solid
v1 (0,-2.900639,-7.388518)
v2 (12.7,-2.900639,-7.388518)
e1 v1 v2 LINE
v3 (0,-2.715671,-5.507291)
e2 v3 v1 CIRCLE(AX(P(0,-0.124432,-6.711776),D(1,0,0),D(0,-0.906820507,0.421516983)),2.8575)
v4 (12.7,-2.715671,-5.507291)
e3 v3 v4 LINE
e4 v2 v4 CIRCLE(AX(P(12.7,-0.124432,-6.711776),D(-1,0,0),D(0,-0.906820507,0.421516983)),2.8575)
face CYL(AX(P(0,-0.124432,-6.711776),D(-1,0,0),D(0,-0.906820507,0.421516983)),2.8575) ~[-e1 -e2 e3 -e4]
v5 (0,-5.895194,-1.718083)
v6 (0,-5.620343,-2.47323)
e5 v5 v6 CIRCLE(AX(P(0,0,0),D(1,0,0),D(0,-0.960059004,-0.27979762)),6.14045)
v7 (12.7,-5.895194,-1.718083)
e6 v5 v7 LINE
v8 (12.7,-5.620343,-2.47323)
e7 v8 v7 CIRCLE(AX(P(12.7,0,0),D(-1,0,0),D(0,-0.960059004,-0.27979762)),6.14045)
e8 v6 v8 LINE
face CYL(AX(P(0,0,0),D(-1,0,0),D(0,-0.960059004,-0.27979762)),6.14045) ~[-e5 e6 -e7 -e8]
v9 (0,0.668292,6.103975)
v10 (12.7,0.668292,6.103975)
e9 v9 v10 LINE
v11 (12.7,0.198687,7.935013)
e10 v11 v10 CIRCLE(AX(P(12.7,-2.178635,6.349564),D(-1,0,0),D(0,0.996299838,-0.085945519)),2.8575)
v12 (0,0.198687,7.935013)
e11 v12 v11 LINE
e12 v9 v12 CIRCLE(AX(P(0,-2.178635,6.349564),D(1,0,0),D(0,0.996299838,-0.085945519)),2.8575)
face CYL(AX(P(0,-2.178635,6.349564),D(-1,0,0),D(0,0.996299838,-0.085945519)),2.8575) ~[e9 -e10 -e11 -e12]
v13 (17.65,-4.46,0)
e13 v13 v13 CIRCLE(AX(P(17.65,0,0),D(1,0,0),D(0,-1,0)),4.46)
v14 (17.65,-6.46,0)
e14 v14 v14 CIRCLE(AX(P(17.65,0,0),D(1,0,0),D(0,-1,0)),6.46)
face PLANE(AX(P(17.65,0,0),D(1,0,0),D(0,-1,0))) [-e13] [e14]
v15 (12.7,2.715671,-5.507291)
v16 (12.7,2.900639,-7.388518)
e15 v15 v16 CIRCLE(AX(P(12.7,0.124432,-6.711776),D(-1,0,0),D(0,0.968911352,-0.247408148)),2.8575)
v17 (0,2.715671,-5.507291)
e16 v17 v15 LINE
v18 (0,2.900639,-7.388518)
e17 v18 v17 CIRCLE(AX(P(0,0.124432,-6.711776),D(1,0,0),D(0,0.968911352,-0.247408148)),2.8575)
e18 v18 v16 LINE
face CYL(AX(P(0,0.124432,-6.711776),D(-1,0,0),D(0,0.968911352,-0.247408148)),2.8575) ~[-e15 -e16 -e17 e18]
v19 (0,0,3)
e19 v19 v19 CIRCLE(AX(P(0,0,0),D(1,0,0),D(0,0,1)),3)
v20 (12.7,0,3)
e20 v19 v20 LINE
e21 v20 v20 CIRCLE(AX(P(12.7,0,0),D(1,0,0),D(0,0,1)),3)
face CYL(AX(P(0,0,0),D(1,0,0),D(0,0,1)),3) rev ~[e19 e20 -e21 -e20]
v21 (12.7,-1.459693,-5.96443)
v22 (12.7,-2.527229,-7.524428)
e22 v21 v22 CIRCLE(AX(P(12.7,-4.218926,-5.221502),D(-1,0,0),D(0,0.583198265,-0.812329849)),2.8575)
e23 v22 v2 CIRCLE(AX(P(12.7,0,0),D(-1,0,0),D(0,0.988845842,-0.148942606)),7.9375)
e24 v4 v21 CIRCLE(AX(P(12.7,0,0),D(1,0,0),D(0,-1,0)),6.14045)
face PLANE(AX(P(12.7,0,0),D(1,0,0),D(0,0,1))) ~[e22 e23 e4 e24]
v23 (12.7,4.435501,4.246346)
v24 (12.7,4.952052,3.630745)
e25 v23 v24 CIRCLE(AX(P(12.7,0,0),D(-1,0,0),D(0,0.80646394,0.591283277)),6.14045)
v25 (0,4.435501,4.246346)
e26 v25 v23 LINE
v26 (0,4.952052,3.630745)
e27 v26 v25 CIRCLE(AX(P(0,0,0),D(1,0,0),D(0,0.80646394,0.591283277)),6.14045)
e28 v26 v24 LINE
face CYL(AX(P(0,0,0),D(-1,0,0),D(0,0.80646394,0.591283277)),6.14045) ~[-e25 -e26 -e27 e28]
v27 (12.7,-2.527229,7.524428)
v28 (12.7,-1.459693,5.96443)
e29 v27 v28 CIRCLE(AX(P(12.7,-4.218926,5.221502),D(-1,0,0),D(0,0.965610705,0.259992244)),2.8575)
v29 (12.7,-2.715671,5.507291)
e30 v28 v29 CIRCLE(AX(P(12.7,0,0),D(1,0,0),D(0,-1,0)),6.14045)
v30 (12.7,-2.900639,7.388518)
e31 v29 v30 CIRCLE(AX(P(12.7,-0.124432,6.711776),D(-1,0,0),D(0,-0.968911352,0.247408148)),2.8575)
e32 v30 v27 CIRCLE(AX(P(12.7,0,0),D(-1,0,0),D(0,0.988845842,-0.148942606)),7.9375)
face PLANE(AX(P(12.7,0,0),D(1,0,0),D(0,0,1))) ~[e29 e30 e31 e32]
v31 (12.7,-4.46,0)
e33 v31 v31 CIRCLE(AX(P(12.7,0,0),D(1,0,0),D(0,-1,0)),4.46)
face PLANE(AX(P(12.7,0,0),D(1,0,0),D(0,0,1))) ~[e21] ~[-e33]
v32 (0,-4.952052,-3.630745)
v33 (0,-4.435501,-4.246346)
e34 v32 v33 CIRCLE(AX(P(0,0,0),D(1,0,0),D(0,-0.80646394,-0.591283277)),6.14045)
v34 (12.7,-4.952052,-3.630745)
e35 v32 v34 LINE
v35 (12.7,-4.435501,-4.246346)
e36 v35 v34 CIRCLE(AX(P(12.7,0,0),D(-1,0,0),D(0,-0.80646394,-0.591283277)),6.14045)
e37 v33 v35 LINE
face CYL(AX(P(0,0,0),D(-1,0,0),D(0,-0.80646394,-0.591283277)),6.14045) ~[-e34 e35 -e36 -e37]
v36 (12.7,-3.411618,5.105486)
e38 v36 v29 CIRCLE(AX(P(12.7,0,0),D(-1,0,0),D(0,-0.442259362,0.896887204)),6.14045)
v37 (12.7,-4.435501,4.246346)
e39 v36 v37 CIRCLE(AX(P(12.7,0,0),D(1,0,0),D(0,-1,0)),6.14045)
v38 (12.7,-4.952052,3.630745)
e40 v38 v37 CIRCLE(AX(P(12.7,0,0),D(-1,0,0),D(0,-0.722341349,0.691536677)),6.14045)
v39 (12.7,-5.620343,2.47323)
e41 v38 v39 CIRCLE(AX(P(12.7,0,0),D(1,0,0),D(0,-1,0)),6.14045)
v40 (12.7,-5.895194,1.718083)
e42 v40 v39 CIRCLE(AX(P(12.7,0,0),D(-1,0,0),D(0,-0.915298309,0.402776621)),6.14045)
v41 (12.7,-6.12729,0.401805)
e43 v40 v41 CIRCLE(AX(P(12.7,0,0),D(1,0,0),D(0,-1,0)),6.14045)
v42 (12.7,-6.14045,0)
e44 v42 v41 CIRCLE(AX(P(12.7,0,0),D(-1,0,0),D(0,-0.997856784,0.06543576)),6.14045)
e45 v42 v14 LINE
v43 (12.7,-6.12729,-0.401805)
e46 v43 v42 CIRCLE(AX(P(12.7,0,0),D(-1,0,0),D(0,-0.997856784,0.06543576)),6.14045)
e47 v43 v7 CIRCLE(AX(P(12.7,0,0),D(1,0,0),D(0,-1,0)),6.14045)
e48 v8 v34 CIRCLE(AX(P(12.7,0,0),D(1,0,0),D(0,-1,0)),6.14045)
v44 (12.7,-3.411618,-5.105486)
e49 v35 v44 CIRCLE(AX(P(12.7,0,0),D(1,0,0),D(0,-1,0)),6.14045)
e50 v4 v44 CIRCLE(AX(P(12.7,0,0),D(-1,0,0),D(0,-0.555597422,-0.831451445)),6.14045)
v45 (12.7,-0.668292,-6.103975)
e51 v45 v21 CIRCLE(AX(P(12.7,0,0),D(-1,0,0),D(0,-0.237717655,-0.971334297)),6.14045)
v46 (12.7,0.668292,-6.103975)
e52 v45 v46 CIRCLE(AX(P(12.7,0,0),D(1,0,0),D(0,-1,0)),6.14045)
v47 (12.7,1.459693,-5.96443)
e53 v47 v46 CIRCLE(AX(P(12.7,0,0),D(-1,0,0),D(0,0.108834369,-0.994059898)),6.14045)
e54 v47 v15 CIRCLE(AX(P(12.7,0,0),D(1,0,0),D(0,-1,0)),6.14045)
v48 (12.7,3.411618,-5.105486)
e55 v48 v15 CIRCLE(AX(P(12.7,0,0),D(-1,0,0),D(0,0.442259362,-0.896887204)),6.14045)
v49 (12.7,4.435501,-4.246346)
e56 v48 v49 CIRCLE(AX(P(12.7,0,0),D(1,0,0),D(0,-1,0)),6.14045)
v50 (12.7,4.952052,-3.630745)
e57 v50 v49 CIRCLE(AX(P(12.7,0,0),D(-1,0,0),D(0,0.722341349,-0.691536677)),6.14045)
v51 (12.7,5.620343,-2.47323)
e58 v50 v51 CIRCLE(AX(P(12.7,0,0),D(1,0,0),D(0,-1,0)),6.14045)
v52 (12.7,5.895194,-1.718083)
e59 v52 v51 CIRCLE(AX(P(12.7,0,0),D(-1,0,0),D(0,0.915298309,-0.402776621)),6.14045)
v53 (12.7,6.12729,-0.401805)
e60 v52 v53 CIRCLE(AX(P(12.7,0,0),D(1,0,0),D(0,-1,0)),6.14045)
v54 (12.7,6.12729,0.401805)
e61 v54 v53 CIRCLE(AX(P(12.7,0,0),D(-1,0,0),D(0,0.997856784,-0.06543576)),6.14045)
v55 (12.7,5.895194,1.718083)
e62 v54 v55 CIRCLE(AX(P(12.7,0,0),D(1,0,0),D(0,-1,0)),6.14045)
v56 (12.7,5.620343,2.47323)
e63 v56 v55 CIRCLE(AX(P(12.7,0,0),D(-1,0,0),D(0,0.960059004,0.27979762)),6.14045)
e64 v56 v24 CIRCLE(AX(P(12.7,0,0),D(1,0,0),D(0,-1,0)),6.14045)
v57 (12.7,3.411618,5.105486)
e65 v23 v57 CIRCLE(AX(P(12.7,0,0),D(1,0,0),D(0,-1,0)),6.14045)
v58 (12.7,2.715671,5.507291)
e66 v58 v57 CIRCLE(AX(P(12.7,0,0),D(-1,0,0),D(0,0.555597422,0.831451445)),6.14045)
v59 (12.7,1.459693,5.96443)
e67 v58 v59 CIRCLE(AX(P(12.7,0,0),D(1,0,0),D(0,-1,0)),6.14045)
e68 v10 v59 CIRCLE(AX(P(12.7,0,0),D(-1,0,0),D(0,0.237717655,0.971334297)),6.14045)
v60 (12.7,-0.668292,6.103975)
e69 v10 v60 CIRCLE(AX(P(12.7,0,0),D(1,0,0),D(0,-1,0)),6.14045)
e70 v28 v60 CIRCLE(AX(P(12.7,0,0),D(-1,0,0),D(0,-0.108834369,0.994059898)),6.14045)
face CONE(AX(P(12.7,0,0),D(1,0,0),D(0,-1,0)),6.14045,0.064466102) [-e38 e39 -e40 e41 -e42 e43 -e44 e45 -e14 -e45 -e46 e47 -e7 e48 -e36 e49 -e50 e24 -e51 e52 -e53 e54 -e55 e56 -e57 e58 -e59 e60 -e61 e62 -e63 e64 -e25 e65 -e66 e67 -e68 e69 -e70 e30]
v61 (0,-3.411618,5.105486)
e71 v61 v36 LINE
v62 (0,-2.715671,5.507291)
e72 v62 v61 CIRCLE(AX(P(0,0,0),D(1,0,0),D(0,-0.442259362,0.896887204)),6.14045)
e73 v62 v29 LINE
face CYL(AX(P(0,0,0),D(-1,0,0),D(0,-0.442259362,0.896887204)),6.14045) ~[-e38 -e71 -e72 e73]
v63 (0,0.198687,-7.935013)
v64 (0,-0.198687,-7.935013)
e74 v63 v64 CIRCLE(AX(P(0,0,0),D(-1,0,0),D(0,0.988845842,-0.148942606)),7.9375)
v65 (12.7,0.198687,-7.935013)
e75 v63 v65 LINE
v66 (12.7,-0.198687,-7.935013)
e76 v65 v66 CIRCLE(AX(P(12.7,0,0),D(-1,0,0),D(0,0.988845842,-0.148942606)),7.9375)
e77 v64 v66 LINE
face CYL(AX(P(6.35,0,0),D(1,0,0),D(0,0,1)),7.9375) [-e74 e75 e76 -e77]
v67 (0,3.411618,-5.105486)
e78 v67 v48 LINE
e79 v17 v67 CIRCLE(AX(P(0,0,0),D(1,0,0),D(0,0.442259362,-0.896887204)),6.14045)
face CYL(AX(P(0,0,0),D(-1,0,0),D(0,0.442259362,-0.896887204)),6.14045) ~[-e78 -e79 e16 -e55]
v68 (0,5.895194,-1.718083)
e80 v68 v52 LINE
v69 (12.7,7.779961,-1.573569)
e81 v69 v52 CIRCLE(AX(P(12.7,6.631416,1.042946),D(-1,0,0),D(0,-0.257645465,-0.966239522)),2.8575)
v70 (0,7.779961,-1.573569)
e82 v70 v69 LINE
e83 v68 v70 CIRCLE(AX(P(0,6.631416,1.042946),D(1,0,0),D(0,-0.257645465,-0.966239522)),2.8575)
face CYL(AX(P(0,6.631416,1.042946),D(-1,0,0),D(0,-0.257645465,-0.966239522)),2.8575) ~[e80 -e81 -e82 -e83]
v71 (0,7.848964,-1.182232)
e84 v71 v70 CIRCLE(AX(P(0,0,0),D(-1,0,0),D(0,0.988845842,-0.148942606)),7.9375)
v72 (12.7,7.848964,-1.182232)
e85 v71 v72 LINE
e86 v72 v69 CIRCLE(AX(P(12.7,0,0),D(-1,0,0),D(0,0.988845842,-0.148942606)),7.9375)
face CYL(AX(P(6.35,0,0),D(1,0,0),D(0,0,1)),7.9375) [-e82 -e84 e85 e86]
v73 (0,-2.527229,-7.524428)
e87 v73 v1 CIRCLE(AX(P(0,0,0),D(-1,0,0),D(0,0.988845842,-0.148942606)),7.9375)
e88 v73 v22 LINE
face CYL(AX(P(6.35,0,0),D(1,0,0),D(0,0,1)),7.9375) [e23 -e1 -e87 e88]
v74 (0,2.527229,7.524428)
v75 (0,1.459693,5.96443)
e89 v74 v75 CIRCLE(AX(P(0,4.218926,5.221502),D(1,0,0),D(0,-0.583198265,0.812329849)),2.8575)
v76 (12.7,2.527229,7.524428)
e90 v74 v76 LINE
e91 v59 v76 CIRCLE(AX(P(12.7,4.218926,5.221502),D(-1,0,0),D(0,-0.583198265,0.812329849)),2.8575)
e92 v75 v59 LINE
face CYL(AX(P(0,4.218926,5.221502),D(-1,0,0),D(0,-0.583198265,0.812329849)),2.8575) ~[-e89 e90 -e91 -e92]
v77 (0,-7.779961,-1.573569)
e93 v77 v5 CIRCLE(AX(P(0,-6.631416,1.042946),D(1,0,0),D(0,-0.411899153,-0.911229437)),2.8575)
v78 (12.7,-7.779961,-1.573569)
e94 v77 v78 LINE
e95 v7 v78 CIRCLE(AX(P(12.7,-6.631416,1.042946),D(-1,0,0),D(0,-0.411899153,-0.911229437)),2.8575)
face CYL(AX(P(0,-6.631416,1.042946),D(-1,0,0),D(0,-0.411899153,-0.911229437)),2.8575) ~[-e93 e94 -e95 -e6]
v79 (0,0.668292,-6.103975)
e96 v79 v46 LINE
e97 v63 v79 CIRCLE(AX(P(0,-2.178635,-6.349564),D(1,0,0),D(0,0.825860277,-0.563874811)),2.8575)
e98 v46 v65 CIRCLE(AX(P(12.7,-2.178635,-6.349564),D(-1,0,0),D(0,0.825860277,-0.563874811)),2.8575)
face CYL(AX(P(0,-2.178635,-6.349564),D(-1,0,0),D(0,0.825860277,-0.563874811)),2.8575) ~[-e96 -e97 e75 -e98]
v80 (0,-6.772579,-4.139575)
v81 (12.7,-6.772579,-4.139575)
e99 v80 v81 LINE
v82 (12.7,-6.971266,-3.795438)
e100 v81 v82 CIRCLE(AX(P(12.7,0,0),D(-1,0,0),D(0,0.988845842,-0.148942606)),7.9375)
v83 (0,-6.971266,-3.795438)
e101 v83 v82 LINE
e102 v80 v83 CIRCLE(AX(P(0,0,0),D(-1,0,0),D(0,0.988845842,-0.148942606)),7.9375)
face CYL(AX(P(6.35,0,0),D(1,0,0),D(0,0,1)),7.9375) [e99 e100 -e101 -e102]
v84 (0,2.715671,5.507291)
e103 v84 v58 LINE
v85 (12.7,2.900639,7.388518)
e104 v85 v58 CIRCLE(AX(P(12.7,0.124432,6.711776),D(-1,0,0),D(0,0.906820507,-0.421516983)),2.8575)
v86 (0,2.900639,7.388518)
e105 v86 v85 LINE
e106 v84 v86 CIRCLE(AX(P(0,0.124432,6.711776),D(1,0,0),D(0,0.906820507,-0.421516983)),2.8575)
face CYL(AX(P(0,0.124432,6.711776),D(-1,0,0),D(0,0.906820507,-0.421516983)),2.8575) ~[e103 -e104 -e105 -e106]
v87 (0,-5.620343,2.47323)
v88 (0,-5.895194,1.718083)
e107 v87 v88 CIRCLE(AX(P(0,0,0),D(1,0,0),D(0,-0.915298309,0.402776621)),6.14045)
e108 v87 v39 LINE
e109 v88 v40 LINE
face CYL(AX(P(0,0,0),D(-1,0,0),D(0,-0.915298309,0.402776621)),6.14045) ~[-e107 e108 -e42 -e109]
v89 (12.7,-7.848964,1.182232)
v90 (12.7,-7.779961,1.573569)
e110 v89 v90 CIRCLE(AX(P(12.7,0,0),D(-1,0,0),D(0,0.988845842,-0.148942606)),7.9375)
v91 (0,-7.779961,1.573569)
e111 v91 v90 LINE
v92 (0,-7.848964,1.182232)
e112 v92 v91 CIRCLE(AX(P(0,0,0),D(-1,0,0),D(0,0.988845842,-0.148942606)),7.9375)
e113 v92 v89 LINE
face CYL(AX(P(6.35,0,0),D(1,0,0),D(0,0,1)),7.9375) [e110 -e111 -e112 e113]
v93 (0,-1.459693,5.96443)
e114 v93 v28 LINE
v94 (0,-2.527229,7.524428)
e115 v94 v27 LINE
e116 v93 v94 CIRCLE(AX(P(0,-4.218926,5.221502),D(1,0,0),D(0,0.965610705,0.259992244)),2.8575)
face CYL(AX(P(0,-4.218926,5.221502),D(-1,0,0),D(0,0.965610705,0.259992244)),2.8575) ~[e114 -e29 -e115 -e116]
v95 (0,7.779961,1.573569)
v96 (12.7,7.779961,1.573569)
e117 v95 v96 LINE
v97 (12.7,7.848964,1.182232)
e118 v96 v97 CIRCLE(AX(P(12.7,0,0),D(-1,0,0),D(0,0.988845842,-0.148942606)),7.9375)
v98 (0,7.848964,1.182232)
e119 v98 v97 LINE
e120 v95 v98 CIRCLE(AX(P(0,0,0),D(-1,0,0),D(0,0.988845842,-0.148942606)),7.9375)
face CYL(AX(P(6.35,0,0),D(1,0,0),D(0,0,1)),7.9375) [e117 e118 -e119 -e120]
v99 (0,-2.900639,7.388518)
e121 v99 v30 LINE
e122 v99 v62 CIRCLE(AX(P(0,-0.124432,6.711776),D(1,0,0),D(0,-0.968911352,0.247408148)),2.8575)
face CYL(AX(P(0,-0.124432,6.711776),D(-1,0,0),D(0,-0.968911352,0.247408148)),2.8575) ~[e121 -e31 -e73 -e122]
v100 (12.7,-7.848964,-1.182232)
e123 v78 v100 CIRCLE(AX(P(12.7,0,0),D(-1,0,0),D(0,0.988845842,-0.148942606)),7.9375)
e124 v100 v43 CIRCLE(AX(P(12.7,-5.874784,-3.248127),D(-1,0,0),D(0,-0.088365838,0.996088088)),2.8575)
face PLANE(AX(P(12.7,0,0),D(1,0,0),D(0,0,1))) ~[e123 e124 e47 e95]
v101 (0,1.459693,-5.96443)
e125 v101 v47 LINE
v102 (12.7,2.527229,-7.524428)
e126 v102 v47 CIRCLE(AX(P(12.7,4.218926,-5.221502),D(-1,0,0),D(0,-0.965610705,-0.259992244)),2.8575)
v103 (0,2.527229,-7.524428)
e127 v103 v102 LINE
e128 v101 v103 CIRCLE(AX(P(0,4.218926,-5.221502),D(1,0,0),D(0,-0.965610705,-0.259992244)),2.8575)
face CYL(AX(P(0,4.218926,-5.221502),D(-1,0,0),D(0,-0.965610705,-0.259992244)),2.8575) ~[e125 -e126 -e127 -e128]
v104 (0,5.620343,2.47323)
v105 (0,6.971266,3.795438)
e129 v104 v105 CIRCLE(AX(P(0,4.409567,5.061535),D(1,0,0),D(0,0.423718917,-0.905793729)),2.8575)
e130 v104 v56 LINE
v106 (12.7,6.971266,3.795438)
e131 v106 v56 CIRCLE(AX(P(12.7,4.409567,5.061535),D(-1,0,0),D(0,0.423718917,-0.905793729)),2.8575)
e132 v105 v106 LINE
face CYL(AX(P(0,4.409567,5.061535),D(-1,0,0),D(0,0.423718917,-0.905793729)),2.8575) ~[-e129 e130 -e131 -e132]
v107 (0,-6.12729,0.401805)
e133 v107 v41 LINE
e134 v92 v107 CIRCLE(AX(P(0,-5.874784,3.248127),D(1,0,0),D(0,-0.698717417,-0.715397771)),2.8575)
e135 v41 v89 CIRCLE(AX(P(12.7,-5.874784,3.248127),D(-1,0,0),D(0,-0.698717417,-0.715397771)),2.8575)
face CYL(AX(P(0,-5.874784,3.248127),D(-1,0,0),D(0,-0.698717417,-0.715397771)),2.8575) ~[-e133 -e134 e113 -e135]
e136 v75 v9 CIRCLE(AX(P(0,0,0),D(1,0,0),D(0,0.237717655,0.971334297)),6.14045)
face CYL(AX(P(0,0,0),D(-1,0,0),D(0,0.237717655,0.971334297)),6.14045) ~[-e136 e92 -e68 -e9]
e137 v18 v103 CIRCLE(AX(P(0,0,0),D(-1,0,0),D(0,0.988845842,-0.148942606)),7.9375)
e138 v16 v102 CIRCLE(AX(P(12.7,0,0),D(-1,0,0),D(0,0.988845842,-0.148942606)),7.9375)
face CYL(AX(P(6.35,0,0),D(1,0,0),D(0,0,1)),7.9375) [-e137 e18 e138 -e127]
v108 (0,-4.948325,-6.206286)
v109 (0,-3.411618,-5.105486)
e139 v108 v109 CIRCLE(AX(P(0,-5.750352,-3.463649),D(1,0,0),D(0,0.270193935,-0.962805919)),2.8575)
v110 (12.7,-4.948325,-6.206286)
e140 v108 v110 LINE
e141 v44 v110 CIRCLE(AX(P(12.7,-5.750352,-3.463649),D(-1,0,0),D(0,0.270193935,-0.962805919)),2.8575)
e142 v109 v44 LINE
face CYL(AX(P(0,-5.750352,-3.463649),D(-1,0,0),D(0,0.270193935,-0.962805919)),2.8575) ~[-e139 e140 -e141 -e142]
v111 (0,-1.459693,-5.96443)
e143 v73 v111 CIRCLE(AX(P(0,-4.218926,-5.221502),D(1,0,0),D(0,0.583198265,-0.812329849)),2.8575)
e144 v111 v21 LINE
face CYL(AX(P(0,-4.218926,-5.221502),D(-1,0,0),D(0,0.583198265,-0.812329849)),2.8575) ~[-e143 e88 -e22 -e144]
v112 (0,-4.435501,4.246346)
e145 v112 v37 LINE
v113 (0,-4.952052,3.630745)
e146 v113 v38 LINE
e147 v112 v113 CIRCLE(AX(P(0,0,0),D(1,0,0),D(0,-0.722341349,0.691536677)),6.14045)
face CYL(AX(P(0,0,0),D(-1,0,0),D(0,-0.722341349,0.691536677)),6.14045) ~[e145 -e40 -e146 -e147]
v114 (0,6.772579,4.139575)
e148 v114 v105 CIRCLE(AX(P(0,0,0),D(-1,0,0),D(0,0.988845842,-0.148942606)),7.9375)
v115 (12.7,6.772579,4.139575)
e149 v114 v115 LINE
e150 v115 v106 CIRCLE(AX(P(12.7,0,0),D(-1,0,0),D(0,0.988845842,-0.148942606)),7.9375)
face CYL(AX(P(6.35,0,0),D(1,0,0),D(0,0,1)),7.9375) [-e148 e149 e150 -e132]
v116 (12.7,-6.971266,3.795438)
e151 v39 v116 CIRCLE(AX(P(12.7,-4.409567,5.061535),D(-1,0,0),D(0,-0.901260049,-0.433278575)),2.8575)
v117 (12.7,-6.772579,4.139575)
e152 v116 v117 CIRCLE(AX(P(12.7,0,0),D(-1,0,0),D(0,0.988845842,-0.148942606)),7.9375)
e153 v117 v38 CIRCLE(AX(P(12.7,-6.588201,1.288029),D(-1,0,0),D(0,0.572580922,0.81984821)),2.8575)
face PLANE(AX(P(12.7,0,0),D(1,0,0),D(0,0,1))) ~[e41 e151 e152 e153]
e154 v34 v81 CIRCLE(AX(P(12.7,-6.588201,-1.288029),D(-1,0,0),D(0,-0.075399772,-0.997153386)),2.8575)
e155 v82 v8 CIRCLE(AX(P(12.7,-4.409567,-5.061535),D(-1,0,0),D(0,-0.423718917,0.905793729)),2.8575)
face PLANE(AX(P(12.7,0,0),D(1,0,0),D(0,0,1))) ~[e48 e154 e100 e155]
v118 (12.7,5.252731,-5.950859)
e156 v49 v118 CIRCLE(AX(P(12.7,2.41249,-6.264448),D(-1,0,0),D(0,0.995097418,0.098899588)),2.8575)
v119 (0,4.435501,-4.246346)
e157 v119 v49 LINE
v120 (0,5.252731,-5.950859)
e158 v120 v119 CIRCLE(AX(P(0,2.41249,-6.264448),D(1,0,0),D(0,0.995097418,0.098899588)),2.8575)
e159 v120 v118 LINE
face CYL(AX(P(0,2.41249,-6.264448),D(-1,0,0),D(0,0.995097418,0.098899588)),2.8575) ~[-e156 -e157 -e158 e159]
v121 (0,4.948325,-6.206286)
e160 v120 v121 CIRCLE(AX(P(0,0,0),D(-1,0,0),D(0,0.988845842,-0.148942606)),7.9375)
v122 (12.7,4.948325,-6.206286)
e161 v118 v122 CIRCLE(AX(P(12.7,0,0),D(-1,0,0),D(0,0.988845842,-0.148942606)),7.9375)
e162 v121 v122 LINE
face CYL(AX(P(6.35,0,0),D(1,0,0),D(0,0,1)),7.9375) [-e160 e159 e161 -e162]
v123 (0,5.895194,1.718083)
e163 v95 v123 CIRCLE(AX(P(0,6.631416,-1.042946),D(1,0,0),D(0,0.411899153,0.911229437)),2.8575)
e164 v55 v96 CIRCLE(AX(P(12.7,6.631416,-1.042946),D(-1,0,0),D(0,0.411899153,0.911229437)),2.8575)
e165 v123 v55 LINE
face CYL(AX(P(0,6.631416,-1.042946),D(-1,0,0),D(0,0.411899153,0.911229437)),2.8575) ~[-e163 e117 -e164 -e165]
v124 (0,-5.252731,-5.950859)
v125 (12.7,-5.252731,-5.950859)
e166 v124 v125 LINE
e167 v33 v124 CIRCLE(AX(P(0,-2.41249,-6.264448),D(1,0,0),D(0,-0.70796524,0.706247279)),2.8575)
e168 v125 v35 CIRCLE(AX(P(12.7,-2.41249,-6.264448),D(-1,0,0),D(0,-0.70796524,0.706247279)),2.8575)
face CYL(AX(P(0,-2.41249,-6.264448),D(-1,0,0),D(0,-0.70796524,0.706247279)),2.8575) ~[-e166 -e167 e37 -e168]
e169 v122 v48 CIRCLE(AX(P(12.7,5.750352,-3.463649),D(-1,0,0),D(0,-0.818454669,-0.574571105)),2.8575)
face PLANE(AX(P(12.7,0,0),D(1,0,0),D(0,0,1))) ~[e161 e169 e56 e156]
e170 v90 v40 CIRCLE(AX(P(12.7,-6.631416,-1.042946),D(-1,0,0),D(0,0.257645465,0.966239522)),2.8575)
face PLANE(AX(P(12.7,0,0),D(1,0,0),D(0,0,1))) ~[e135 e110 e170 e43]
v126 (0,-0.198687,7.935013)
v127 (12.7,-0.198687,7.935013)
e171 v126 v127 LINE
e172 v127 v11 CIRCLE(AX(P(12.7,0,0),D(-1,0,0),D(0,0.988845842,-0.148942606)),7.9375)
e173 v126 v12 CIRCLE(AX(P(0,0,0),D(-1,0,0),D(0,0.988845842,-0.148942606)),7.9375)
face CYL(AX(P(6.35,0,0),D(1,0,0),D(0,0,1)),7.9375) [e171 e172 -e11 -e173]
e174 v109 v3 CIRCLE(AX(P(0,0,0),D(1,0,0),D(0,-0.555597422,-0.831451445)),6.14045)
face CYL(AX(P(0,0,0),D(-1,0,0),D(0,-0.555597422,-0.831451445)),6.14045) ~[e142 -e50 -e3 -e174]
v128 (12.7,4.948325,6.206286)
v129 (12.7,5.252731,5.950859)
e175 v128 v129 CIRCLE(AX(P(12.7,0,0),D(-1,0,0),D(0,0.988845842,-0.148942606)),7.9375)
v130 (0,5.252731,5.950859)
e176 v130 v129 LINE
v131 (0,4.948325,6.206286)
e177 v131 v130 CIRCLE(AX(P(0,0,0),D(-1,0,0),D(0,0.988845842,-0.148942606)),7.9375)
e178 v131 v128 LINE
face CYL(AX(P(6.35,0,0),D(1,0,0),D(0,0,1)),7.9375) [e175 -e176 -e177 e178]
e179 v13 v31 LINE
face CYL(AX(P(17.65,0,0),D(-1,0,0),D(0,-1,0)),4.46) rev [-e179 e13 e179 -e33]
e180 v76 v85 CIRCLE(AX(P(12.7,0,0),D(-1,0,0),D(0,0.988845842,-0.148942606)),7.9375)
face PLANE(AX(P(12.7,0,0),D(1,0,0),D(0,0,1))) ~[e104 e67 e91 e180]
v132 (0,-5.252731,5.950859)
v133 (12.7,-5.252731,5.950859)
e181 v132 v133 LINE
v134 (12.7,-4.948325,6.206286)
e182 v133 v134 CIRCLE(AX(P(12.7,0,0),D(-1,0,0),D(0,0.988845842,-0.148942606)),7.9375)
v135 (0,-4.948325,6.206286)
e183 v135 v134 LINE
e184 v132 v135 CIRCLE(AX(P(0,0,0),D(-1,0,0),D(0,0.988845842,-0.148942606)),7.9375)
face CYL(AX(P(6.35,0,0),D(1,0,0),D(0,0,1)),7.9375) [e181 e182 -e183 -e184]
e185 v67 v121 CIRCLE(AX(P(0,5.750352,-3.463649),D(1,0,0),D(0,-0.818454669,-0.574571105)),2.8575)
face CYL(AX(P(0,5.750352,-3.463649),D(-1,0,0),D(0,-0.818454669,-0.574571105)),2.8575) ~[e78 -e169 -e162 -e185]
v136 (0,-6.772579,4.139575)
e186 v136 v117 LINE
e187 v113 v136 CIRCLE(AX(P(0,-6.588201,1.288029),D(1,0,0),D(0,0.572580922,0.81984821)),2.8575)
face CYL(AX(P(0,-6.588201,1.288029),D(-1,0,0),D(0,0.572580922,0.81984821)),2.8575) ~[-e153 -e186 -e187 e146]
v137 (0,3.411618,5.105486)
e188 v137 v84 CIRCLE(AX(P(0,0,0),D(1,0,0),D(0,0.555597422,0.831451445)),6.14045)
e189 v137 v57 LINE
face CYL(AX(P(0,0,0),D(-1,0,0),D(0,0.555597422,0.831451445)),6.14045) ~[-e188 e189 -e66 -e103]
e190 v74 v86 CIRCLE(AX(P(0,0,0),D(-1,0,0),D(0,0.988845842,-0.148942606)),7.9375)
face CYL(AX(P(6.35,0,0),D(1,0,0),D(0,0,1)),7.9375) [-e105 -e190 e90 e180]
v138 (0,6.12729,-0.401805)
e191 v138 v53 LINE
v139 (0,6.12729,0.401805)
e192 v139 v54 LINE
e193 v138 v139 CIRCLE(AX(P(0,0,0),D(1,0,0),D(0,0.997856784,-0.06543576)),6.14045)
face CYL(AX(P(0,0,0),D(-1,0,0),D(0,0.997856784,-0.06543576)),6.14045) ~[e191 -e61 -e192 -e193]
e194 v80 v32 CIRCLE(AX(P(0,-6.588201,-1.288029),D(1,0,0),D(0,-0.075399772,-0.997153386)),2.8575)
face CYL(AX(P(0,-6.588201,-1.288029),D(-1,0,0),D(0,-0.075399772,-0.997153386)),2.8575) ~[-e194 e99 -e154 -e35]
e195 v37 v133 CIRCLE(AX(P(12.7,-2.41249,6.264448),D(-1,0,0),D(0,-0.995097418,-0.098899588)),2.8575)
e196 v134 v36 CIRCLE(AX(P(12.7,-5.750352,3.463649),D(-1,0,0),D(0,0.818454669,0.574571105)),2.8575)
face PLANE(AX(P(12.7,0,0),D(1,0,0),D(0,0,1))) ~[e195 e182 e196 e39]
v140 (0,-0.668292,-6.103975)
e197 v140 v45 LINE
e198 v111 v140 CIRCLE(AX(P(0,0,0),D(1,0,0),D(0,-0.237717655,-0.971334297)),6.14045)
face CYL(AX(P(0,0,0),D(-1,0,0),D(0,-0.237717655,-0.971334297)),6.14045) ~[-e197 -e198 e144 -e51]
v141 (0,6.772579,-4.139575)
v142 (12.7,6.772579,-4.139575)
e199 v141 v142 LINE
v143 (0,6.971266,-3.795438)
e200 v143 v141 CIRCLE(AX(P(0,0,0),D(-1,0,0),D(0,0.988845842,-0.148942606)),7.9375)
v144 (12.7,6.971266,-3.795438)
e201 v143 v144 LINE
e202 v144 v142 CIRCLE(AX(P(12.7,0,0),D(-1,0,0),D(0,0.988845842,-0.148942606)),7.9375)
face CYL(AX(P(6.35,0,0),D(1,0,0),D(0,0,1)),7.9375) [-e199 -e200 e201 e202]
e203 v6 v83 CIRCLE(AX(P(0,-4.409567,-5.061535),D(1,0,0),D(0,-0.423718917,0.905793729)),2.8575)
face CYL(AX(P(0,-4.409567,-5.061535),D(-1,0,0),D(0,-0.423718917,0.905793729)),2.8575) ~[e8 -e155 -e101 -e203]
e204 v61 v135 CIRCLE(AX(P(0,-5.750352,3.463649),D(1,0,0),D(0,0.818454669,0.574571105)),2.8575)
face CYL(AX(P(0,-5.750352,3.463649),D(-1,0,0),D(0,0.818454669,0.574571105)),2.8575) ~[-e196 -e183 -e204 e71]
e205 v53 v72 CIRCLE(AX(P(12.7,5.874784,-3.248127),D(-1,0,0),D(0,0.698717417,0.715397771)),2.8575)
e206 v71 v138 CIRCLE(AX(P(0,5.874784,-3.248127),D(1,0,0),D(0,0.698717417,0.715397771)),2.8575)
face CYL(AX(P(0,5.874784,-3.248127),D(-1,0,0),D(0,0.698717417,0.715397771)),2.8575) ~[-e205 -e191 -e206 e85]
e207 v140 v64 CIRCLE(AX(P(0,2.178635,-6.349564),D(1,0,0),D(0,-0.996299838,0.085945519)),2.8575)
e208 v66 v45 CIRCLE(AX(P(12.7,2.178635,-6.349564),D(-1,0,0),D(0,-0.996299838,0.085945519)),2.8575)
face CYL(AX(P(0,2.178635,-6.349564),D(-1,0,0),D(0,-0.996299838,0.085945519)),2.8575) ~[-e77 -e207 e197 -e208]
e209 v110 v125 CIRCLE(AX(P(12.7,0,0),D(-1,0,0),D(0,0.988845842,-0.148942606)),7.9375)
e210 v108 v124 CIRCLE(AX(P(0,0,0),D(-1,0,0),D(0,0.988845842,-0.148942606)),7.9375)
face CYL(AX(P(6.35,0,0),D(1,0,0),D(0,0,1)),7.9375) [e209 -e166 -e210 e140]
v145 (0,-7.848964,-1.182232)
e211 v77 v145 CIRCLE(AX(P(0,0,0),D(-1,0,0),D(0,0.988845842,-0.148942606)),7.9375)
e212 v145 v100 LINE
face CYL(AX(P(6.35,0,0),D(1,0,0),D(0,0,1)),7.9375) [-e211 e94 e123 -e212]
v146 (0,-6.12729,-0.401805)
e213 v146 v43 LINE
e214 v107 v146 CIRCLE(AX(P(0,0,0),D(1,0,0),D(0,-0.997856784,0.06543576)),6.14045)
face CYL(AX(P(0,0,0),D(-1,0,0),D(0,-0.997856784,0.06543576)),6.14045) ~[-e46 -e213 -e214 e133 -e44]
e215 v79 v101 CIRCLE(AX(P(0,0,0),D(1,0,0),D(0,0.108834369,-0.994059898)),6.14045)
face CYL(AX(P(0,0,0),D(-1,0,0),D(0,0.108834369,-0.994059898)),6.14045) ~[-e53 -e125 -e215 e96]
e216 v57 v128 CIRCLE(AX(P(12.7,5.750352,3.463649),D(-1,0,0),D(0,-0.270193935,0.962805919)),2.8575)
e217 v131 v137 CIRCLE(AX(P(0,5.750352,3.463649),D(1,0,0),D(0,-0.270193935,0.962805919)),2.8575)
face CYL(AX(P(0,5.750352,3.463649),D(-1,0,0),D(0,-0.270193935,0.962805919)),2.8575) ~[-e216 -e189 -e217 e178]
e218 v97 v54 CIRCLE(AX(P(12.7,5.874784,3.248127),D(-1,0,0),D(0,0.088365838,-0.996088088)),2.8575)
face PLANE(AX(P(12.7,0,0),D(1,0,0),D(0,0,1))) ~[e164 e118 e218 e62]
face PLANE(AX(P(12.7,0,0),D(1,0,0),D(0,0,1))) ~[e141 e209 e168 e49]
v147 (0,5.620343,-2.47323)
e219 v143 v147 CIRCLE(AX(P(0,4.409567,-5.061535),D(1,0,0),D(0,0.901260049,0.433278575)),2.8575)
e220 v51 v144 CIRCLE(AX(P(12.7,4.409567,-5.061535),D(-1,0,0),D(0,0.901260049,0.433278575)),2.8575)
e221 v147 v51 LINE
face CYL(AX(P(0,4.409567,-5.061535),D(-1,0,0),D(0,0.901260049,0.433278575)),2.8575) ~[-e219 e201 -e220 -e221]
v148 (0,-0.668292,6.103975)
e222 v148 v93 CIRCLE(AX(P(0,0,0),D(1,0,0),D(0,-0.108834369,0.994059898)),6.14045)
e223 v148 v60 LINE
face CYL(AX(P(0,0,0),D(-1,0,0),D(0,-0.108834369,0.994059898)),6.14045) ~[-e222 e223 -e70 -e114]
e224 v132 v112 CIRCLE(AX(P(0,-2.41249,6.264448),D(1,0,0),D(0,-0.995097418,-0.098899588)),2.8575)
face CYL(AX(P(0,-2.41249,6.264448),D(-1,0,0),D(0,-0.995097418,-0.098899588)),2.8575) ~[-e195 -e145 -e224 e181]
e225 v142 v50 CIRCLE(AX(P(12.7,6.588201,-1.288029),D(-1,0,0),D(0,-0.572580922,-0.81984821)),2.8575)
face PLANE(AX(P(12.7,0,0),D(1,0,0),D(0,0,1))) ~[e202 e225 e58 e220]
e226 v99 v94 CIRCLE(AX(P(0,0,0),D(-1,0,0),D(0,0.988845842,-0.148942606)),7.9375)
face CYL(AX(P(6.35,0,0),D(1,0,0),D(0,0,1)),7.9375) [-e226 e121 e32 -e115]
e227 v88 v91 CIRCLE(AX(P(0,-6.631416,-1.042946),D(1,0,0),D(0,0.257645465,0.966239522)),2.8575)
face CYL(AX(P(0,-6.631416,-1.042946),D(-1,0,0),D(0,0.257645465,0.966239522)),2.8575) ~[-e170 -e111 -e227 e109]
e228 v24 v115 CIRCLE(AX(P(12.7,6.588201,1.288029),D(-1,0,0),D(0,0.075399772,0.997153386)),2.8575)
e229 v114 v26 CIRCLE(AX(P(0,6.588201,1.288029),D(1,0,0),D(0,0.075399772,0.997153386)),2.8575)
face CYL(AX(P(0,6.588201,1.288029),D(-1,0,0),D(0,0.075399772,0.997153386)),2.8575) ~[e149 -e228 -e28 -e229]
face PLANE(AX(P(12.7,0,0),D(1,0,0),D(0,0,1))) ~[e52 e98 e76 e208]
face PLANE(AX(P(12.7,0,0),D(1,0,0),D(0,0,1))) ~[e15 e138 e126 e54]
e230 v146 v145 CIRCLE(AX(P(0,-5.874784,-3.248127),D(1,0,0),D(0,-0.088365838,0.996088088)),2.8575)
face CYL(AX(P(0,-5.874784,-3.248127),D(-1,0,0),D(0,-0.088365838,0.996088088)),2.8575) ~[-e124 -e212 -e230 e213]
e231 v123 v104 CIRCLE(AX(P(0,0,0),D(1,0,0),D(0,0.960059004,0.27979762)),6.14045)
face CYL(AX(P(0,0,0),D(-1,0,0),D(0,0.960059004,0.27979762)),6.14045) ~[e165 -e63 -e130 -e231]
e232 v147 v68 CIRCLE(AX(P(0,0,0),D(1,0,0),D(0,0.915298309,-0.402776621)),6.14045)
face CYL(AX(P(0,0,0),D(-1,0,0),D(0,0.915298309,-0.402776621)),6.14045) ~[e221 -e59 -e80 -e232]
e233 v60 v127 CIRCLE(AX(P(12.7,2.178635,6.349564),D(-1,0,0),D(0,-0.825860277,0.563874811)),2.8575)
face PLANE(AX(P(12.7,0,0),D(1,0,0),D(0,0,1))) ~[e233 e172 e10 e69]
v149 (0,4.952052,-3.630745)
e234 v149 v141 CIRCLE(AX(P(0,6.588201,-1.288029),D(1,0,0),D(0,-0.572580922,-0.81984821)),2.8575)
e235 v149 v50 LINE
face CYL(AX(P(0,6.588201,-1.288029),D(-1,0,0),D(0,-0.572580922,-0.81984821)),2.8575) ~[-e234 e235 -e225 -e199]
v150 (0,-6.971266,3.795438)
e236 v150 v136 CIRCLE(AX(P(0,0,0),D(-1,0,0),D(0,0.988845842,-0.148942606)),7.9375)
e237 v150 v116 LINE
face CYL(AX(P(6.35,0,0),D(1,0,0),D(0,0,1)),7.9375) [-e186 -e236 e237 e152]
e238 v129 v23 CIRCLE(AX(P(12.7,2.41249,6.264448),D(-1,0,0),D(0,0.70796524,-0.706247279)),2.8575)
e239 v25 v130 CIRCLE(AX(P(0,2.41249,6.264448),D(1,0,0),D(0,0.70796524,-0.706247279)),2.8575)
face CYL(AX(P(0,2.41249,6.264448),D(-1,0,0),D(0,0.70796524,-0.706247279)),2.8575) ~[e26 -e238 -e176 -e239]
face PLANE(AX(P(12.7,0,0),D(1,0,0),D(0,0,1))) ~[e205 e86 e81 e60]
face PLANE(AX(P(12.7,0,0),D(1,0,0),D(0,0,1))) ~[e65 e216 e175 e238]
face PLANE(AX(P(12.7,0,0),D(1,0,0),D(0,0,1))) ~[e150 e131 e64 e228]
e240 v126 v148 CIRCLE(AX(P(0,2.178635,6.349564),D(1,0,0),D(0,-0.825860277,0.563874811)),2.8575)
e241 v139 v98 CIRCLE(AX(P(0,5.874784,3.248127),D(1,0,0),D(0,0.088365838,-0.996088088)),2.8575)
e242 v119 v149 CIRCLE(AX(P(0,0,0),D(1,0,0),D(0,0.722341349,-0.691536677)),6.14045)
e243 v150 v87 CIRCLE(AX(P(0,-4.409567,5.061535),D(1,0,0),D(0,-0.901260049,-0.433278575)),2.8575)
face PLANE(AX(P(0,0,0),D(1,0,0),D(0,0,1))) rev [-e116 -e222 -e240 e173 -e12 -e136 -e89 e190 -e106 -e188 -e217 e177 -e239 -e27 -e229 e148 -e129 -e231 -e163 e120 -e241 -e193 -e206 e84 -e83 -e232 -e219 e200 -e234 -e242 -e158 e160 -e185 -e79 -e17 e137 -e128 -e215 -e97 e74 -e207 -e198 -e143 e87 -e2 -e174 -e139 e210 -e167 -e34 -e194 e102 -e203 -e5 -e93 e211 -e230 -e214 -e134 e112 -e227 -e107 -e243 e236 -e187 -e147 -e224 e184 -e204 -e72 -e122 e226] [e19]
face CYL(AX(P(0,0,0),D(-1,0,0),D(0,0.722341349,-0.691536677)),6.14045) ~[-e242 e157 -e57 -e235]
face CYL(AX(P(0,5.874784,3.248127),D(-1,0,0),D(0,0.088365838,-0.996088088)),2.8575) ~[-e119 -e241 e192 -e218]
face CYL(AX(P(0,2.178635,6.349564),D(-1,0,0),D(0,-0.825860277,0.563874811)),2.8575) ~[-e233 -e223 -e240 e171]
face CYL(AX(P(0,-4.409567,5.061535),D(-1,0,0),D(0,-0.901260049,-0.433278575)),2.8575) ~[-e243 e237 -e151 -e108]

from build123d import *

# Parameters (mm, degrees)
BASPROSKE_W     = 12.7
BASPROSKE_H     = 7.9375
TOOTHCUT_DEPTH  = 17.949861725
TEETHCUTS_COUNT = 18
TEETHCUTS_ANGLE = 340
BORSKE_R        = 3
BORE_DEPTH      = 50.8000508


with BuildPart() as part:
    # BasProSke → Base-Revolve (revolve)
    with BuildSketch(Plane(origin=(0, 0, 0), x_dir=(1, 0, 0), z_dir=(0, 1, 0)), mode=Mode.PRIVATE) as base_revolve_sk:
        with Locations((6.35, 3.96875)):
            Rectangle(BASPROSKE_W, BASPROSKE_H)
    revolve(base_revolve_sk.sketch.rotate(Axis((-10, 0, 0), (1, 0, 0)), 180), axis=Axis((-10, 0, 0), (1, 0, 0)))

    # TooCutSke → ToothCut (cut, through all)
    with BuildSketch(Plane(origin=(0, 0, 0), x_dir=(0, 0, -1), z_dir=(1, 0, 0))):
        with BuildLine():
            ThreePointArc((0.401805019, 6.127289689), (0, 6.14045), (-0.401805019, 6.127289689))
            ThreePointArc((-0.401805019, 6.127289689), (-0.651999955, 7.068698885), (-1.203877601, 7.87136933))
            ThreePointArc((-1.203877601, 7.87136933), (0, 7.9629), (1.203877601, 7.87136933))
            ThreePointArc((1.203877601, 7.87136933), (0.651999955, 7.068698885), (0.401805019, 6.127289689))
        make_face()
    toothcut = extrude(amount=TOOTHCUT_DEPTH, mode=Mode.SUBTRACT)

    # TeethCuts: ToothCut ×18 about axis
    teethcuts_axis = Axis((-10, 0, 0), (1, 0, 0))
    for i in range(1, TEETHCUTS_COUNT):
        add(toothcut.rotate(teethcuts_axis, i * TEETHCUTS_ANGLE / (TEETHCUTS_COUNT - 1)), mode=Mode.SUBTRACT)

    # BorSke → Bore (cut, symmetric)
    with BuildSketch(Plane(origin=(0, 0, 0), x_dir=(0, 0, -1), z_dir=(1, 0, 0))):
        with Locations(Location((0, 0, 0), (0, 0, 180))):
            Circle(BORSKE_R)
    extrude(amount=BORE_DEPTH, both=True, mode=Mode.SUBTRACT)

    # Sketch1 → Revolve1 (revolve)
    with BuildSketch(Plane.XY, mode=Mode.PRIVATE) as revolve1_sk:
        Polygon((12.7, 6.14045), (17.65, 6.46), (17.65, 4.46), (12.7, 4.46), align=None)
    revolve(revolve1_sk.sketch.rotate(Axis((12.7, 0, 0), (1, 0, 0)), 180), axis=Axis((12.7, 0, 0), (1, 0, 0)))


solid = part.part
